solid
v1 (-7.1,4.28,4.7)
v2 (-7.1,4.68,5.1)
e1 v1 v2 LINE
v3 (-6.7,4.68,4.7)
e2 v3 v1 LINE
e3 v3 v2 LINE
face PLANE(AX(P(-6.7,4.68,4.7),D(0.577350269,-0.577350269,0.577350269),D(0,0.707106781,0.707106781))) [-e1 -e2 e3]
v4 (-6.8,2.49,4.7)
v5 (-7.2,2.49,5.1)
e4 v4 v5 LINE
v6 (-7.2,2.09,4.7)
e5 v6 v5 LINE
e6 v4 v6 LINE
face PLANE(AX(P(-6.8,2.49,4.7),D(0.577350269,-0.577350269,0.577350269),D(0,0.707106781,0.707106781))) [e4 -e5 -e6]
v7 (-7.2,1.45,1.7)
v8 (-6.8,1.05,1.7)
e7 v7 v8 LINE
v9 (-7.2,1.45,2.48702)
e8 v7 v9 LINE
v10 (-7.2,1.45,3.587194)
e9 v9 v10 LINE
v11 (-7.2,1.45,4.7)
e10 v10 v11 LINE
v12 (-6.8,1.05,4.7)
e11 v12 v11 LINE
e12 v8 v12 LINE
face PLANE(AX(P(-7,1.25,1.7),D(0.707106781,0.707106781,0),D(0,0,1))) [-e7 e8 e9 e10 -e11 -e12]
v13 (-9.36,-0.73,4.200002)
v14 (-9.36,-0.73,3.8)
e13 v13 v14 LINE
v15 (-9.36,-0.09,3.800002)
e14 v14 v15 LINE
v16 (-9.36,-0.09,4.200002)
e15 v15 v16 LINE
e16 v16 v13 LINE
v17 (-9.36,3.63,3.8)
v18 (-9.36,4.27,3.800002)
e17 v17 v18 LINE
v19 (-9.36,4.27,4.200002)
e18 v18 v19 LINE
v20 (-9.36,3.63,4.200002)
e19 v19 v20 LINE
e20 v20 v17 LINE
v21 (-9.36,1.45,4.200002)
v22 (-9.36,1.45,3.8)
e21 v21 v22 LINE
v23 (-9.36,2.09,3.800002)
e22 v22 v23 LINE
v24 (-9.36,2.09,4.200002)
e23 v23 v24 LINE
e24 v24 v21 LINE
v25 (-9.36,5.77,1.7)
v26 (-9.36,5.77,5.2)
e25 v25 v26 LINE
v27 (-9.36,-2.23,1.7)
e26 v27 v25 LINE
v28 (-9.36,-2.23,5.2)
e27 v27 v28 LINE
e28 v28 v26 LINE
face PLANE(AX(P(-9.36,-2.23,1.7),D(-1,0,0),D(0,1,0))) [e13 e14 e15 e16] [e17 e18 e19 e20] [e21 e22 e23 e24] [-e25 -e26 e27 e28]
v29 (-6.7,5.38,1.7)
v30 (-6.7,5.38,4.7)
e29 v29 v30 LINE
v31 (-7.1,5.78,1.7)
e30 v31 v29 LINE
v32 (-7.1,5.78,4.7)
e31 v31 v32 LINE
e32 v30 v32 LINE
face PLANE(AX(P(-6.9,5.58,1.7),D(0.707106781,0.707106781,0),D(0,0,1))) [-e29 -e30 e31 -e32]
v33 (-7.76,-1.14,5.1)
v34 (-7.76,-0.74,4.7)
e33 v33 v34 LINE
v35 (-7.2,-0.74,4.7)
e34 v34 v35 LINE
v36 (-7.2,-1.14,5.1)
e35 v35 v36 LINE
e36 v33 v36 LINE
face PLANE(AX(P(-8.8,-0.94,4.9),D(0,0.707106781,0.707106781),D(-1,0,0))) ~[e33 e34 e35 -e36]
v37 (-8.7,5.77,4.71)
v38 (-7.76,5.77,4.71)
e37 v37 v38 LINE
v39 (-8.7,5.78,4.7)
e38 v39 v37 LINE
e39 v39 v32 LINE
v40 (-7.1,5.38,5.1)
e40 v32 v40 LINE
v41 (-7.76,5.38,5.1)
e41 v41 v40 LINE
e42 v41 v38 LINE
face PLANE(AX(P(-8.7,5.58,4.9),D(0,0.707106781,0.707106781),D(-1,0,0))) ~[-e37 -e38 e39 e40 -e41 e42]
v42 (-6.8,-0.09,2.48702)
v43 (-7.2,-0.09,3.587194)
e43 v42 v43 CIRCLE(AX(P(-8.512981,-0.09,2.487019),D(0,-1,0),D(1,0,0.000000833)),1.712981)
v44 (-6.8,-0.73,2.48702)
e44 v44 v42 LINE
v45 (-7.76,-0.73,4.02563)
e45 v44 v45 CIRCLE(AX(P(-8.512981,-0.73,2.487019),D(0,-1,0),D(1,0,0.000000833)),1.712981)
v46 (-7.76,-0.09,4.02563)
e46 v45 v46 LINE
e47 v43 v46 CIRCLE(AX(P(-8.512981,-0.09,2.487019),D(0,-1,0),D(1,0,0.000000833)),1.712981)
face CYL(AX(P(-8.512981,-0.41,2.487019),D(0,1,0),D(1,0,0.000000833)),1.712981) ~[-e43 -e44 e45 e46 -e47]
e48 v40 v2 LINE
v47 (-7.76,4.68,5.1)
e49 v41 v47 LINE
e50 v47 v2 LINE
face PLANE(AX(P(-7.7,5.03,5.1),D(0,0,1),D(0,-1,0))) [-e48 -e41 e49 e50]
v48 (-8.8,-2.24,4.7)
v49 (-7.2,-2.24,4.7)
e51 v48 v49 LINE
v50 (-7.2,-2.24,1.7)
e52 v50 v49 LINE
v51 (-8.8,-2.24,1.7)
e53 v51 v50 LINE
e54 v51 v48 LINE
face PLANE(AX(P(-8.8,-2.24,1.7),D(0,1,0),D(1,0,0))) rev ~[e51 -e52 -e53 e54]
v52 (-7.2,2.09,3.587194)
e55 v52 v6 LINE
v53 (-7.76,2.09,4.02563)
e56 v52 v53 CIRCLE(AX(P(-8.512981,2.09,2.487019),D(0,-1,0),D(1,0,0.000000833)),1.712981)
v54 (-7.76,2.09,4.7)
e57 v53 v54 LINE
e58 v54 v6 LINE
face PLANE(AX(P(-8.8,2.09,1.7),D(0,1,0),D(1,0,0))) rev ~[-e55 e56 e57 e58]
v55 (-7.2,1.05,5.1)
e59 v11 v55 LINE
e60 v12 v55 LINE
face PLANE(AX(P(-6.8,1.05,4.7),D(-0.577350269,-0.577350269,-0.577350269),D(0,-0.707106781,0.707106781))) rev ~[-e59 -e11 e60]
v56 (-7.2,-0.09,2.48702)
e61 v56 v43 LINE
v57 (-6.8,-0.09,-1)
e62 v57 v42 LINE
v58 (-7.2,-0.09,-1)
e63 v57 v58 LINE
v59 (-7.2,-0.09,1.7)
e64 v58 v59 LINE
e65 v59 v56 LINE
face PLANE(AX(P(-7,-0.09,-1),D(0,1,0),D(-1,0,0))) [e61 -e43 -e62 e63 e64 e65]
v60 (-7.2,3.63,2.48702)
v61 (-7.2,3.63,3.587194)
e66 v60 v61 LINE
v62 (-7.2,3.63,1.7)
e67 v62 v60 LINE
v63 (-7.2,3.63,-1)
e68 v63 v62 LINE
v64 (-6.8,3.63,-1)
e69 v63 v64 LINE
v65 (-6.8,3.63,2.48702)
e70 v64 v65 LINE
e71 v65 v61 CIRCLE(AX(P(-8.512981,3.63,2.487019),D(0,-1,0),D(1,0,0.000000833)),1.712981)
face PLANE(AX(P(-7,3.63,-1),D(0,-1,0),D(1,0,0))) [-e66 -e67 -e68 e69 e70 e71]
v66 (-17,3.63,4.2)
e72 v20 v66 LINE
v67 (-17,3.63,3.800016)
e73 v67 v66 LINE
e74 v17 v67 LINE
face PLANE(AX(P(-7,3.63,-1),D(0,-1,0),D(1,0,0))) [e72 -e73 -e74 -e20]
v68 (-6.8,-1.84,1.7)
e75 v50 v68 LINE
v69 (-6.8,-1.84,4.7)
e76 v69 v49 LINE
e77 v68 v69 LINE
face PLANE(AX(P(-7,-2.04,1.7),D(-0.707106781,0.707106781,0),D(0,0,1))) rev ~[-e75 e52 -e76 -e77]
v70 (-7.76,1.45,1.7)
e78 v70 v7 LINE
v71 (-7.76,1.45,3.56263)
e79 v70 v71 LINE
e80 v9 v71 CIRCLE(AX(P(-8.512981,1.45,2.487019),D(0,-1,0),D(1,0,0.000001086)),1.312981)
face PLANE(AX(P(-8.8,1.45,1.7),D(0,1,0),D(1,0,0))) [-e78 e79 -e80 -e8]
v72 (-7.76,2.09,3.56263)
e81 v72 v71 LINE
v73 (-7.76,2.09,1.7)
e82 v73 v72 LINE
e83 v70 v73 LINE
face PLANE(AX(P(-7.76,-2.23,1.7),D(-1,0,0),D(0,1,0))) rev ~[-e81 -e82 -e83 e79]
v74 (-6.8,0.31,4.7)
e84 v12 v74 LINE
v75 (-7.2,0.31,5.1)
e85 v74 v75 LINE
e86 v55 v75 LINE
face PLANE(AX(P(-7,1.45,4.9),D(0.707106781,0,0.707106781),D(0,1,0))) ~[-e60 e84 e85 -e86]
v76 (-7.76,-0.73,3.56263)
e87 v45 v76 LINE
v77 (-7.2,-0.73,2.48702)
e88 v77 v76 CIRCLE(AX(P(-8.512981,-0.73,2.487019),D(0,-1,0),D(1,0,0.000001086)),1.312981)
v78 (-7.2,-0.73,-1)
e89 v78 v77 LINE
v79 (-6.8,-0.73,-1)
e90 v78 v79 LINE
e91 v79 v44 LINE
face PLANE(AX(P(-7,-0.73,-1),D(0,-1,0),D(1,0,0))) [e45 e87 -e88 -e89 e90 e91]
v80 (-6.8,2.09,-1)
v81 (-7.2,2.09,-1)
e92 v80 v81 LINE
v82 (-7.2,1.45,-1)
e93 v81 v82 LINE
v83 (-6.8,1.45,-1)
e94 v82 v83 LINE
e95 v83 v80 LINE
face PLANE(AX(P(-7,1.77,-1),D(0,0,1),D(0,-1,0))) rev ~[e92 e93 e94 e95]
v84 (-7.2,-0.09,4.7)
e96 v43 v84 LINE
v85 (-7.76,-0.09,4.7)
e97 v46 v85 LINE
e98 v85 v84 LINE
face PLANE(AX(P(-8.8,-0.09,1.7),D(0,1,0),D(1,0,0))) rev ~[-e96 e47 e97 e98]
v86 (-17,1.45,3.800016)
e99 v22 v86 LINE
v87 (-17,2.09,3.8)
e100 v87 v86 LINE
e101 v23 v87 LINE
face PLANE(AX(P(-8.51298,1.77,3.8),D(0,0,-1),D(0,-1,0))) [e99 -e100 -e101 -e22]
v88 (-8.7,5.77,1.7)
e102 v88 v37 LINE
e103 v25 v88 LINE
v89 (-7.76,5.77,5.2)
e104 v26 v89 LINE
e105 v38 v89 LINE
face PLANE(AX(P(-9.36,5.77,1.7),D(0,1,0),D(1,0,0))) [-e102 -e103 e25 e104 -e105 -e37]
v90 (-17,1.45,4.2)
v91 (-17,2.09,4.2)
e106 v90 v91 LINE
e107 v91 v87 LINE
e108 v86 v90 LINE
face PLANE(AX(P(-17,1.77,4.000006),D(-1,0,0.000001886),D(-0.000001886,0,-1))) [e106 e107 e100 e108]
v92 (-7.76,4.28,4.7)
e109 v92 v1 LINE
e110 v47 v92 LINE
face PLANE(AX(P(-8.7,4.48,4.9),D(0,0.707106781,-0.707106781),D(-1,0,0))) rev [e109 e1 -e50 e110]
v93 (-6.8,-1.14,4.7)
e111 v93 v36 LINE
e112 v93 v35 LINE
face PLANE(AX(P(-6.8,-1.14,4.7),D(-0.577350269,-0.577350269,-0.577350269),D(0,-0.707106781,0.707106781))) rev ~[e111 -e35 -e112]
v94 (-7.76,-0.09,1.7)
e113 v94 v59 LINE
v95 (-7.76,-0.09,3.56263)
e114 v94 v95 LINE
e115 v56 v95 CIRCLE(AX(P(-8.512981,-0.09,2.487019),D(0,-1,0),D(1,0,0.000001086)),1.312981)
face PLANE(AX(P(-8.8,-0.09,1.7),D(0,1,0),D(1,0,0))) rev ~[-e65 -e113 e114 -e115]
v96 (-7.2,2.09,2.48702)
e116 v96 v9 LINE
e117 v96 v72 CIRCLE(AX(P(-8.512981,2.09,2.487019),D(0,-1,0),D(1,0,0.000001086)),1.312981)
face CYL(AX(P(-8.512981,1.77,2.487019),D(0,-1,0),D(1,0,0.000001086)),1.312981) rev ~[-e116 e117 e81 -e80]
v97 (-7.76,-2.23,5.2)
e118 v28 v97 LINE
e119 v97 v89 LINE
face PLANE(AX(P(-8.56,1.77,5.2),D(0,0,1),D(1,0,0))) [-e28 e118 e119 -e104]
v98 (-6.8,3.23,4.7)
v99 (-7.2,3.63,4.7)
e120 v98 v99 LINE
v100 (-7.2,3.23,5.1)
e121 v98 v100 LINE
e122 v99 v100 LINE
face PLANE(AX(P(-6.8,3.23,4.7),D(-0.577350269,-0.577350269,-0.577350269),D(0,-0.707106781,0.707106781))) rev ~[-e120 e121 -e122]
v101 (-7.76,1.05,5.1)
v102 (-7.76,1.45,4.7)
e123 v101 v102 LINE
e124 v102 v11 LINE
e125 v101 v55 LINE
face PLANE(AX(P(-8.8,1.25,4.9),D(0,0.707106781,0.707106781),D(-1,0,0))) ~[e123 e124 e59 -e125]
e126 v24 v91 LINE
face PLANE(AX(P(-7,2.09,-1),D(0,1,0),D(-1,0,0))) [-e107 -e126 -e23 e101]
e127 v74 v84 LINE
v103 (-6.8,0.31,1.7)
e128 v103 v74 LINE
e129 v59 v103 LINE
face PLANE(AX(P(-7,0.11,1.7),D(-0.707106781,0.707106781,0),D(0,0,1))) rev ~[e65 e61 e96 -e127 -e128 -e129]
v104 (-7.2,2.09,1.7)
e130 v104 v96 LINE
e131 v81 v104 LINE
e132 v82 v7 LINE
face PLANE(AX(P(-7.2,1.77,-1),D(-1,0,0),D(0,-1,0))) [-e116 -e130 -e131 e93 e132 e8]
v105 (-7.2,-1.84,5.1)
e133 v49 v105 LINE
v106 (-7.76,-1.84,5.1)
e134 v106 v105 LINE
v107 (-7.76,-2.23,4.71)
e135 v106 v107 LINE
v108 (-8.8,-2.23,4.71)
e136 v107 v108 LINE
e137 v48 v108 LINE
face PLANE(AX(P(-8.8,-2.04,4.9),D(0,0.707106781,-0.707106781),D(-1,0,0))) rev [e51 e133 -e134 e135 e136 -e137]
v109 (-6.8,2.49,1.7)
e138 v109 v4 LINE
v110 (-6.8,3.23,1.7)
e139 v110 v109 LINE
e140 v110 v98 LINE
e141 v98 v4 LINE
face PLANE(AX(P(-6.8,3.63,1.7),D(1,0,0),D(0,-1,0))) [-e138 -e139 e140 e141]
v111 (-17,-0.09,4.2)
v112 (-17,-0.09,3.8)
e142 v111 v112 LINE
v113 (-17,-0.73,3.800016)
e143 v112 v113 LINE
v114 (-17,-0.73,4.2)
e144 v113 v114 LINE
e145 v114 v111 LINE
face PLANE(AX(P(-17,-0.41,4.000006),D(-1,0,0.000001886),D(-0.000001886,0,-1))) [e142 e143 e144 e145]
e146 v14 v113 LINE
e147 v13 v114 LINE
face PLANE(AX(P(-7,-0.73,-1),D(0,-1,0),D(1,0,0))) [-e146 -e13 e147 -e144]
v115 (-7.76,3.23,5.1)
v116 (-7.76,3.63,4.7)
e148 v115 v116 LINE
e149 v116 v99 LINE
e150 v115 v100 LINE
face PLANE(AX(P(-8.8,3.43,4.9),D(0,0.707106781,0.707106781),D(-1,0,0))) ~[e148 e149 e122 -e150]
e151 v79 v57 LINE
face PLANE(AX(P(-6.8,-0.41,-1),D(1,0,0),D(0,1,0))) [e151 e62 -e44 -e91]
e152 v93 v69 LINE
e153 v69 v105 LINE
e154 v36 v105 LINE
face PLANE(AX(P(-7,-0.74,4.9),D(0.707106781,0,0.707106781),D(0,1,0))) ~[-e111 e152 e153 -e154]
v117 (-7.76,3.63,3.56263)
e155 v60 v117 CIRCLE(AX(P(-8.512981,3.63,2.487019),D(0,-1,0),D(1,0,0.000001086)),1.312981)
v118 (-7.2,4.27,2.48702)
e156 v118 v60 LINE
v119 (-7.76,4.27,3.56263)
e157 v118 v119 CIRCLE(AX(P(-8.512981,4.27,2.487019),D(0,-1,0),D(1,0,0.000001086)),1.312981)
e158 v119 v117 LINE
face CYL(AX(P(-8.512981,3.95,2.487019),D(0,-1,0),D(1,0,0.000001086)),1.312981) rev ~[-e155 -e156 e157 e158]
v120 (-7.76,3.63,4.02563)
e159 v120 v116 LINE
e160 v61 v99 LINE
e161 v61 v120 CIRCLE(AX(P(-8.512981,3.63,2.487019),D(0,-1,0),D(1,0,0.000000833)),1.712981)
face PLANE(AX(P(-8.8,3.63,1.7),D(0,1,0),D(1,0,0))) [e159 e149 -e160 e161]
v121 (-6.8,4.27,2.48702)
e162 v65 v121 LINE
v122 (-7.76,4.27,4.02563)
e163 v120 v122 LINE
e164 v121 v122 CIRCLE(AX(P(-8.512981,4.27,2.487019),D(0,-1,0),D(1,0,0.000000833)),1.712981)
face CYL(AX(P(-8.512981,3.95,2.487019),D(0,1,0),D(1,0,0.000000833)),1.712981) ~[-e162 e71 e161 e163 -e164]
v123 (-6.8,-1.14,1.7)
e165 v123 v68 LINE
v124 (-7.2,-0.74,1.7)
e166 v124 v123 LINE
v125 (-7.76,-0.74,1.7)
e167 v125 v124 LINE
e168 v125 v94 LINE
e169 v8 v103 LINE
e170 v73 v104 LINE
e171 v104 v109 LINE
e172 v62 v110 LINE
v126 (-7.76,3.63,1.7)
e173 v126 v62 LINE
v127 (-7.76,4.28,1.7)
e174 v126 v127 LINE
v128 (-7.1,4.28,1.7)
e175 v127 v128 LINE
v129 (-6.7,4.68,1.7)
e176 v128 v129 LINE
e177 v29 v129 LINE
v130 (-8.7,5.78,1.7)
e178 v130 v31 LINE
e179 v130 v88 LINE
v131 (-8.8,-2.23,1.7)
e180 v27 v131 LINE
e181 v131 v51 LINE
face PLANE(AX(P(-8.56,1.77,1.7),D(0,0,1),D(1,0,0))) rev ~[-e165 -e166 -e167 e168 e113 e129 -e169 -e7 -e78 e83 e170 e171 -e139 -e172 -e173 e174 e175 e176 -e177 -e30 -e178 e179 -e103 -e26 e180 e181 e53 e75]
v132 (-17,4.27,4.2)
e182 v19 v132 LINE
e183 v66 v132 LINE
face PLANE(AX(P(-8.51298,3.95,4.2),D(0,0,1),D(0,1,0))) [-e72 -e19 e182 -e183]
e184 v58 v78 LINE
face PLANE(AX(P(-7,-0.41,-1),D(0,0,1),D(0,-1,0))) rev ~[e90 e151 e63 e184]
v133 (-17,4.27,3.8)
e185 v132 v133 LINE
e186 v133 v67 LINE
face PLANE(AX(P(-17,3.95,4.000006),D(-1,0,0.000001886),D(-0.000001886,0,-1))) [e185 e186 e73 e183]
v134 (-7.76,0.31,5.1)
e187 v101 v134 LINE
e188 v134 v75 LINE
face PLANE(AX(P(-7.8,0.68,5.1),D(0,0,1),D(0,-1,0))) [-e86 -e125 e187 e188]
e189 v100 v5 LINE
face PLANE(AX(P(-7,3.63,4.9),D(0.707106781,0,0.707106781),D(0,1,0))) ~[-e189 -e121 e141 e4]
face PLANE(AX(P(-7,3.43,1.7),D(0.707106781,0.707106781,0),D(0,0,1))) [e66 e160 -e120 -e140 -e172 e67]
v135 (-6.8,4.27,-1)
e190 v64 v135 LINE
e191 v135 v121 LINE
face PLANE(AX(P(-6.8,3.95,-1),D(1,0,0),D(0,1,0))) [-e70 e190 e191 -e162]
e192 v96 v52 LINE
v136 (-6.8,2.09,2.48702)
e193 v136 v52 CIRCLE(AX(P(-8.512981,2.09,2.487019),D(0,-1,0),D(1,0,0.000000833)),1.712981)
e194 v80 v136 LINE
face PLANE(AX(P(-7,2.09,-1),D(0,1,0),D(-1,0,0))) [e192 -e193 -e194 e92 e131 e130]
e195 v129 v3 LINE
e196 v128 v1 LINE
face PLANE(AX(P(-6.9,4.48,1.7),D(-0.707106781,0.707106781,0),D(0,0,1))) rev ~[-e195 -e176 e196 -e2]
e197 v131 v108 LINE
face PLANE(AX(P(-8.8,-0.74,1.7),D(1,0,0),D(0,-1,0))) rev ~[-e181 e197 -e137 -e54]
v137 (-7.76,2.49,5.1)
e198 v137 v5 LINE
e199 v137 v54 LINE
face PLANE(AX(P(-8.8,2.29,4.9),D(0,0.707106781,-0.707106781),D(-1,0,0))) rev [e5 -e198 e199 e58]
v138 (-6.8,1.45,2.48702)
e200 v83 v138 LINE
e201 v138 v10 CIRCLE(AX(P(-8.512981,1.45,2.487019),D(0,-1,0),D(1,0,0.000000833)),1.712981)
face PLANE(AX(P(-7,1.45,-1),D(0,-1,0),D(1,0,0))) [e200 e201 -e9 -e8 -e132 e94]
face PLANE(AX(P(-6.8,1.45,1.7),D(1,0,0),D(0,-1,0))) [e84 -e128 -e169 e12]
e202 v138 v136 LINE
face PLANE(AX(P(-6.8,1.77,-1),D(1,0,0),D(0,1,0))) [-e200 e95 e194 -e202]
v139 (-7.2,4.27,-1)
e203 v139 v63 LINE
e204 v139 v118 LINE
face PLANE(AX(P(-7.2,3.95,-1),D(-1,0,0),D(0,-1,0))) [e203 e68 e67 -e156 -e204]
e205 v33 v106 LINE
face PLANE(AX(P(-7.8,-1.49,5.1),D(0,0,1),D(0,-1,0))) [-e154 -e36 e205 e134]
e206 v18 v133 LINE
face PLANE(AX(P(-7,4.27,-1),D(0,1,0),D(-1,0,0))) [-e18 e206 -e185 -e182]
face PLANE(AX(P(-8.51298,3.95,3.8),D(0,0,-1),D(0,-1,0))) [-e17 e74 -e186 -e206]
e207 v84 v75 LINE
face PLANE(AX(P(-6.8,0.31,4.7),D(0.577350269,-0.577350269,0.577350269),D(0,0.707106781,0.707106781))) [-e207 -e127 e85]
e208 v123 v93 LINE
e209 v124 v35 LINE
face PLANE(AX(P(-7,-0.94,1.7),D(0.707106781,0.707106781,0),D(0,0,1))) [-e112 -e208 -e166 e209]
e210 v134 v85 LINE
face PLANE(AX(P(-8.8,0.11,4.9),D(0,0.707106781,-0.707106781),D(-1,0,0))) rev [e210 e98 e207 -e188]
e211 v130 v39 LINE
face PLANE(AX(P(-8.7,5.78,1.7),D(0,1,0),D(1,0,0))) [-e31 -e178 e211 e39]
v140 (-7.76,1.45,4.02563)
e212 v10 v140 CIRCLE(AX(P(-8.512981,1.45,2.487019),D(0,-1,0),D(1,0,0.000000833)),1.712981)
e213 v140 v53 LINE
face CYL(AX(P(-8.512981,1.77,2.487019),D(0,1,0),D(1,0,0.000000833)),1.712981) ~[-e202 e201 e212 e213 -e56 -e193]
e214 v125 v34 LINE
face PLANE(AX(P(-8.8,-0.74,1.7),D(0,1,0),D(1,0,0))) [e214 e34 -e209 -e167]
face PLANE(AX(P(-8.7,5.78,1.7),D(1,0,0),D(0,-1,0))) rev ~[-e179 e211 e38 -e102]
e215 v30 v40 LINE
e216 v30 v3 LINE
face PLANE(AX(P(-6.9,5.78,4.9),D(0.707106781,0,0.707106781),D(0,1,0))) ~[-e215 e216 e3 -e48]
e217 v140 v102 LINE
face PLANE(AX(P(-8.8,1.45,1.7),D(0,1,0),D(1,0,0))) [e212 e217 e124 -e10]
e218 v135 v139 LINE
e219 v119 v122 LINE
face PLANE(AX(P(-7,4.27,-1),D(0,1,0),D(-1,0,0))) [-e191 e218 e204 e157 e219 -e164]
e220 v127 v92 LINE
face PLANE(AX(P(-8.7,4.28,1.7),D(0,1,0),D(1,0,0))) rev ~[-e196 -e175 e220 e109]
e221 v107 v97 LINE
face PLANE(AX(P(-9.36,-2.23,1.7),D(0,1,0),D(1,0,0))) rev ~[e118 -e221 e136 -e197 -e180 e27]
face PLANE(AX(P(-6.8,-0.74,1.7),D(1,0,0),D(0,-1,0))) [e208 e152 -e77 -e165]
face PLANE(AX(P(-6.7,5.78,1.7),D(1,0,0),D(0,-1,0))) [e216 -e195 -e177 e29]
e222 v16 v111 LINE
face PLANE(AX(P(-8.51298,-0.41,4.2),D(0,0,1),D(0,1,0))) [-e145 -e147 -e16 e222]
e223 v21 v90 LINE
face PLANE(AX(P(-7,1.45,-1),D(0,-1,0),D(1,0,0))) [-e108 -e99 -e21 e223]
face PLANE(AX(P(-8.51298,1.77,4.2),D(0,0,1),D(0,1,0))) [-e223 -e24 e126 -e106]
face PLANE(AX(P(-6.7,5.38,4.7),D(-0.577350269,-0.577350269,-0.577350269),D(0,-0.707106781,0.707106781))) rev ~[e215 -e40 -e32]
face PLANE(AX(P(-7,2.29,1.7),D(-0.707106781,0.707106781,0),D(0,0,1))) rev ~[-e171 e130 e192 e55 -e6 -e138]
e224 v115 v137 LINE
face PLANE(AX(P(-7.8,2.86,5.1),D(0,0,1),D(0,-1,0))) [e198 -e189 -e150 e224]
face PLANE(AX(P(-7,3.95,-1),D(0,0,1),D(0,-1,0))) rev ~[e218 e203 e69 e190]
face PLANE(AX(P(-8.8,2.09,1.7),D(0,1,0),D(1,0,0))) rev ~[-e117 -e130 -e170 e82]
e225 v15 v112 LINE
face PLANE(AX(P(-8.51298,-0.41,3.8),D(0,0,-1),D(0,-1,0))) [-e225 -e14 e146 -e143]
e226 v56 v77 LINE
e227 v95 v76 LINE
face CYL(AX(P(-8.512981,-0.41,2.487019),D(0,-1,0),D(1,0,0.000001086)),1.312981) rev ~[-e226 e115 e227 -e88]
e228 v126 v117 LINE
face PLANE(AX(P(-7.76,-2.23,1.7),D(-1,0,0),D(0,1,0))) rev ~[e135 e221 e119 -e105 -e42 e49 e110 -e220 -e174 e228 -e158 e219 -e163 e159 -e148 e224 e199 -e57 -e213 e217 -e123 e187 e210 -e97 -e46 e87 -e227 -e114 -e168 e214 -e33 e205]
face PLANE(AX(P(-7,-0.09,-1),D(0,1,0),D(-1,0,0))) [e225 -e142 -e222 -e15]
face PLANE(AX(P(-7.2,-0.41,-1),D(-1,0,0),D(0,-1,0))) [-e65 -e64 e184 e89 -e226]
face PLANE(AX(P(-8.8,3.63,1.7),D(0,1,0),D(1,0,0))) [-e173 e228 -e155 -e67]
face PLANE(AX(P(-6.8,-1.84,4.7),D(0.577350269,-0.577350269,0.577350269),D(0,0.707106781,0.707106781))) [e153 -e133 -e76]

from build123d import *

# Parameters (mm, degrees)
BOX008_W                  = 1.6
BOX008_H                  = 8
BOX008_DEPTH              = 3.5
BOX004_W                  = 1.54
BOX004_H                  = 2
BOX004_DEPTH              = 3.4
CHAMFER002_SIZE           = 0.4
BOX007_W                  = 1.5
BOX007_H                  = 2
BOX007_DEPTH              = 3.4
CHAMFER005_SIZE           = 0.4
BOX005_W                  = 1.54
BOX005_H                  = 2
BOX005_DEPTH              = 3.4
CHAMFER003_SIZE           = 0.4
BOX006_W                  = 1.5
BOX006_H                  = 2
BOX006_DEPTH              = 3.4
CHAMFER004_SIZE           = 0.4
SKETCH002_W               = 0.64
SKETCH002_H               = 0.4
ARRAY001_X_COUNT          = 3
ARRAY001_X_PITCH          = 2.18
FUSION001_PLACEMENT_ANGLE = -90


with BuildPart() as cubo008:
    # Box008 → Box008 (new body)
    with BuildSketch(Plane(origin=(-9.36, -4.13, 1.7), x_dir=(1, 0, 0), z_dir=(0, 0, 1))):
        with Locations((0.8, 4)):
            Rectangle(BOX008_W, BOX008_H)
    extrude(amount=BOX008_DEPTH)


with BuildPart() as chamfer002:
    # Box004 → Box004 (new body)
    with BuildSketch(Plane(origin=(-2.93, -3.3, 0.2), x_dir=(1, 0, 0), z_dir=(0, 0, 1))):
        with Locations((0.77, 1)):
            Rectangle(BOX004_W, BOX004_H)
    extrude(amount=BOX004_DEPTH)

    # Chamfer002
    chamfer002_edges = [chamfer002.edges().sort_by_distance(p)[0] for p in [
        (-2.93, -2.3, 3.6),
        (-2.93, -1.3, 1.9),
        (-1.39, -2.3, 3.6),
        (-1.39, -1.3, 1.9),
        (-2.16, -1.3, 3.6),
    ]]
    chamfer(chamfer002_edges, length=CHAMFER002_SIZE)


with BuildPart() as chamfer002_1:
    # Chamfer002 placement: moved
    add(chamfer002.part.moved(Location((3.2, 1.5, 1.5))))


with BuildPart() as chamfer005:
    # Box007 → Box007 (new body)
    with BuildSketch(Plane(origin=(-1.14, -16.5, 1.4), x_dir=(1, 0, 0), z_dir=(0, 0, 1))):
        with Locations((0.75, 1)):
            Rectangle(BOX007_W, BOX007_H)
    extrude(amount=BOX007_DEPTH)

    # Chamfer005
    chamfer005_edges = [chamfer005.edges().sort_by_distance(p)[0] for p in [
        (-1.14, -15.5, 4.8),
        (-1.14, -14.5, 3.1),
        (0.36, -15.5, 4.8),
        (0.36, -14.5, 3.1),
        (-0.39, -14.5, 4.8),
    ]]
    chamfer(chamfer005_edges, length=CHAMFER005_SIZE)


with BuildPart() as chamfer005_1:
    # Chamfer005 placement: moved
    add(chamfer005.part.moved(Location((5.78, 14.7, 0.3))))


with BuildPart() as chamfer003:
    # Box005 → Box005 (new body)
    with BuildSketch(Plane(origin=(-2.93, -3.3, 0.2), x_dir=(1, 0, 0), z_dir=(0, 0, 1))):
        with Locations((0.77, 1)):
            Rectangle(BOX005_W, BOX005_H)
    extrude(amount=BOX005_DEPTH)

    # Chamfer003
    chamfer003_edges = [chamfer003.edges().sort_by_distance(p)[0] for p in [
        (-2.93, -2.3, 3.6),
        (-2.93, -1.3, 1.9),
        (-1.39, -2.3, 3.6),
        (-1.39, -1.3, 1.9),
        (-2.16, -1.3, 3.6),
    ]]
    chamfer(chamfer003_edges, length=CHAMFER003_SIZE)


with BuildPart() as chamfer003_1:
    # Chamfer003 placement: moved
    add(chamfer003.part.moved(Location((5.38, 1.5, 1.5))))


with BuildPart() as chamfer004:
    # Box006 → Box006 (new body)
    with BuildSketch(Plane(origin=(-1.14, -16.5, 1.4), x_dir=(1, 0, 0), z_dir=(0, 0, 1))):
        with Locations((0.75, 1)):
            Rectangle(BOX006_W, BOX006_H)
    extrude(amount=BOX006_DEPTH)

    # Chamfer004
    chamfer004_edges = [chamfer004.edges().sort_by_distance(p)[0] for p in [
        (-1.14, -15.5, 4.8),
        (-1.14, -14.5, 3.1),
        (0.36, -15.5, 4.8),
        (0.36, -14.5, 3.1),
        (-0.39, -14.5, 4.8),
    ]]
    chamfer(chamfer004_edges, length=CHAMFER004_SIZE)


with BuildPart() as chamfer004_1:
    # Chamfer004 placement: moved
    add(chamfer004.part.moved(Location((-0.74, 14.8, 0.3))))


with BuildPart() as conectores:
    # Sweep: sweep along a path in Sketch003
    with BuildLine(Plane.YZ) as sweep_path:
        Line((0, 0), (0, 3.48702))
        ThreePointArc((0, 3.48702), (-0.443142, 4.556858), (-1.51298, 5))
        Line((-1.51298, 5), (-10, 5))
    # Sketch002 → Sweep (sweep)
    with BuildSketch(Plane.XY):
        Rectangle(SKETCH002_W, SKETCH002_H)
    sweep(path=sweep_path.line)


with BuildPart() as conectores_1:
    # Sweep placement: moved
    add(conectores.part.moved(Location((-0.05, 0, -1))))

    # Array001 X: Conectores ×3


with BuildPart() as conectores_2:
    add(conectores_1.part)
    with Locations(*[(i * ARRAY001_X_PITCH, 0, 0) for i in range(1, ARRAY001_X_COUNT)]):
        add(conectores_1.part)

    # Fusion001: union Chamfer002, Chamfer005, Chamfer003, Chamfer004
    add(chamfer002_1.part)
    add(chamfer005_1.part)
    add(chamfer003_1.part)
    add(chamfer004_1.part)


with BuildPart() as conectores_3:
    # Fusion001 placement: moved
    add(conectores_2.part.moved(Location((-7, 2, 0))).rotate(Axis((-7, 2, 0), (0, 0, 1)), FUSION001_PLACEMENT_ANGLE))

    # Fusion002: union Cubo008
    add(cubo008.part)


with BuildPart() as conectores_4:
    # Fusion002 placement: moved
    add(conectores_3.part.moved(Location((0, 1.9, 0))))


solid = conectores_4.part
